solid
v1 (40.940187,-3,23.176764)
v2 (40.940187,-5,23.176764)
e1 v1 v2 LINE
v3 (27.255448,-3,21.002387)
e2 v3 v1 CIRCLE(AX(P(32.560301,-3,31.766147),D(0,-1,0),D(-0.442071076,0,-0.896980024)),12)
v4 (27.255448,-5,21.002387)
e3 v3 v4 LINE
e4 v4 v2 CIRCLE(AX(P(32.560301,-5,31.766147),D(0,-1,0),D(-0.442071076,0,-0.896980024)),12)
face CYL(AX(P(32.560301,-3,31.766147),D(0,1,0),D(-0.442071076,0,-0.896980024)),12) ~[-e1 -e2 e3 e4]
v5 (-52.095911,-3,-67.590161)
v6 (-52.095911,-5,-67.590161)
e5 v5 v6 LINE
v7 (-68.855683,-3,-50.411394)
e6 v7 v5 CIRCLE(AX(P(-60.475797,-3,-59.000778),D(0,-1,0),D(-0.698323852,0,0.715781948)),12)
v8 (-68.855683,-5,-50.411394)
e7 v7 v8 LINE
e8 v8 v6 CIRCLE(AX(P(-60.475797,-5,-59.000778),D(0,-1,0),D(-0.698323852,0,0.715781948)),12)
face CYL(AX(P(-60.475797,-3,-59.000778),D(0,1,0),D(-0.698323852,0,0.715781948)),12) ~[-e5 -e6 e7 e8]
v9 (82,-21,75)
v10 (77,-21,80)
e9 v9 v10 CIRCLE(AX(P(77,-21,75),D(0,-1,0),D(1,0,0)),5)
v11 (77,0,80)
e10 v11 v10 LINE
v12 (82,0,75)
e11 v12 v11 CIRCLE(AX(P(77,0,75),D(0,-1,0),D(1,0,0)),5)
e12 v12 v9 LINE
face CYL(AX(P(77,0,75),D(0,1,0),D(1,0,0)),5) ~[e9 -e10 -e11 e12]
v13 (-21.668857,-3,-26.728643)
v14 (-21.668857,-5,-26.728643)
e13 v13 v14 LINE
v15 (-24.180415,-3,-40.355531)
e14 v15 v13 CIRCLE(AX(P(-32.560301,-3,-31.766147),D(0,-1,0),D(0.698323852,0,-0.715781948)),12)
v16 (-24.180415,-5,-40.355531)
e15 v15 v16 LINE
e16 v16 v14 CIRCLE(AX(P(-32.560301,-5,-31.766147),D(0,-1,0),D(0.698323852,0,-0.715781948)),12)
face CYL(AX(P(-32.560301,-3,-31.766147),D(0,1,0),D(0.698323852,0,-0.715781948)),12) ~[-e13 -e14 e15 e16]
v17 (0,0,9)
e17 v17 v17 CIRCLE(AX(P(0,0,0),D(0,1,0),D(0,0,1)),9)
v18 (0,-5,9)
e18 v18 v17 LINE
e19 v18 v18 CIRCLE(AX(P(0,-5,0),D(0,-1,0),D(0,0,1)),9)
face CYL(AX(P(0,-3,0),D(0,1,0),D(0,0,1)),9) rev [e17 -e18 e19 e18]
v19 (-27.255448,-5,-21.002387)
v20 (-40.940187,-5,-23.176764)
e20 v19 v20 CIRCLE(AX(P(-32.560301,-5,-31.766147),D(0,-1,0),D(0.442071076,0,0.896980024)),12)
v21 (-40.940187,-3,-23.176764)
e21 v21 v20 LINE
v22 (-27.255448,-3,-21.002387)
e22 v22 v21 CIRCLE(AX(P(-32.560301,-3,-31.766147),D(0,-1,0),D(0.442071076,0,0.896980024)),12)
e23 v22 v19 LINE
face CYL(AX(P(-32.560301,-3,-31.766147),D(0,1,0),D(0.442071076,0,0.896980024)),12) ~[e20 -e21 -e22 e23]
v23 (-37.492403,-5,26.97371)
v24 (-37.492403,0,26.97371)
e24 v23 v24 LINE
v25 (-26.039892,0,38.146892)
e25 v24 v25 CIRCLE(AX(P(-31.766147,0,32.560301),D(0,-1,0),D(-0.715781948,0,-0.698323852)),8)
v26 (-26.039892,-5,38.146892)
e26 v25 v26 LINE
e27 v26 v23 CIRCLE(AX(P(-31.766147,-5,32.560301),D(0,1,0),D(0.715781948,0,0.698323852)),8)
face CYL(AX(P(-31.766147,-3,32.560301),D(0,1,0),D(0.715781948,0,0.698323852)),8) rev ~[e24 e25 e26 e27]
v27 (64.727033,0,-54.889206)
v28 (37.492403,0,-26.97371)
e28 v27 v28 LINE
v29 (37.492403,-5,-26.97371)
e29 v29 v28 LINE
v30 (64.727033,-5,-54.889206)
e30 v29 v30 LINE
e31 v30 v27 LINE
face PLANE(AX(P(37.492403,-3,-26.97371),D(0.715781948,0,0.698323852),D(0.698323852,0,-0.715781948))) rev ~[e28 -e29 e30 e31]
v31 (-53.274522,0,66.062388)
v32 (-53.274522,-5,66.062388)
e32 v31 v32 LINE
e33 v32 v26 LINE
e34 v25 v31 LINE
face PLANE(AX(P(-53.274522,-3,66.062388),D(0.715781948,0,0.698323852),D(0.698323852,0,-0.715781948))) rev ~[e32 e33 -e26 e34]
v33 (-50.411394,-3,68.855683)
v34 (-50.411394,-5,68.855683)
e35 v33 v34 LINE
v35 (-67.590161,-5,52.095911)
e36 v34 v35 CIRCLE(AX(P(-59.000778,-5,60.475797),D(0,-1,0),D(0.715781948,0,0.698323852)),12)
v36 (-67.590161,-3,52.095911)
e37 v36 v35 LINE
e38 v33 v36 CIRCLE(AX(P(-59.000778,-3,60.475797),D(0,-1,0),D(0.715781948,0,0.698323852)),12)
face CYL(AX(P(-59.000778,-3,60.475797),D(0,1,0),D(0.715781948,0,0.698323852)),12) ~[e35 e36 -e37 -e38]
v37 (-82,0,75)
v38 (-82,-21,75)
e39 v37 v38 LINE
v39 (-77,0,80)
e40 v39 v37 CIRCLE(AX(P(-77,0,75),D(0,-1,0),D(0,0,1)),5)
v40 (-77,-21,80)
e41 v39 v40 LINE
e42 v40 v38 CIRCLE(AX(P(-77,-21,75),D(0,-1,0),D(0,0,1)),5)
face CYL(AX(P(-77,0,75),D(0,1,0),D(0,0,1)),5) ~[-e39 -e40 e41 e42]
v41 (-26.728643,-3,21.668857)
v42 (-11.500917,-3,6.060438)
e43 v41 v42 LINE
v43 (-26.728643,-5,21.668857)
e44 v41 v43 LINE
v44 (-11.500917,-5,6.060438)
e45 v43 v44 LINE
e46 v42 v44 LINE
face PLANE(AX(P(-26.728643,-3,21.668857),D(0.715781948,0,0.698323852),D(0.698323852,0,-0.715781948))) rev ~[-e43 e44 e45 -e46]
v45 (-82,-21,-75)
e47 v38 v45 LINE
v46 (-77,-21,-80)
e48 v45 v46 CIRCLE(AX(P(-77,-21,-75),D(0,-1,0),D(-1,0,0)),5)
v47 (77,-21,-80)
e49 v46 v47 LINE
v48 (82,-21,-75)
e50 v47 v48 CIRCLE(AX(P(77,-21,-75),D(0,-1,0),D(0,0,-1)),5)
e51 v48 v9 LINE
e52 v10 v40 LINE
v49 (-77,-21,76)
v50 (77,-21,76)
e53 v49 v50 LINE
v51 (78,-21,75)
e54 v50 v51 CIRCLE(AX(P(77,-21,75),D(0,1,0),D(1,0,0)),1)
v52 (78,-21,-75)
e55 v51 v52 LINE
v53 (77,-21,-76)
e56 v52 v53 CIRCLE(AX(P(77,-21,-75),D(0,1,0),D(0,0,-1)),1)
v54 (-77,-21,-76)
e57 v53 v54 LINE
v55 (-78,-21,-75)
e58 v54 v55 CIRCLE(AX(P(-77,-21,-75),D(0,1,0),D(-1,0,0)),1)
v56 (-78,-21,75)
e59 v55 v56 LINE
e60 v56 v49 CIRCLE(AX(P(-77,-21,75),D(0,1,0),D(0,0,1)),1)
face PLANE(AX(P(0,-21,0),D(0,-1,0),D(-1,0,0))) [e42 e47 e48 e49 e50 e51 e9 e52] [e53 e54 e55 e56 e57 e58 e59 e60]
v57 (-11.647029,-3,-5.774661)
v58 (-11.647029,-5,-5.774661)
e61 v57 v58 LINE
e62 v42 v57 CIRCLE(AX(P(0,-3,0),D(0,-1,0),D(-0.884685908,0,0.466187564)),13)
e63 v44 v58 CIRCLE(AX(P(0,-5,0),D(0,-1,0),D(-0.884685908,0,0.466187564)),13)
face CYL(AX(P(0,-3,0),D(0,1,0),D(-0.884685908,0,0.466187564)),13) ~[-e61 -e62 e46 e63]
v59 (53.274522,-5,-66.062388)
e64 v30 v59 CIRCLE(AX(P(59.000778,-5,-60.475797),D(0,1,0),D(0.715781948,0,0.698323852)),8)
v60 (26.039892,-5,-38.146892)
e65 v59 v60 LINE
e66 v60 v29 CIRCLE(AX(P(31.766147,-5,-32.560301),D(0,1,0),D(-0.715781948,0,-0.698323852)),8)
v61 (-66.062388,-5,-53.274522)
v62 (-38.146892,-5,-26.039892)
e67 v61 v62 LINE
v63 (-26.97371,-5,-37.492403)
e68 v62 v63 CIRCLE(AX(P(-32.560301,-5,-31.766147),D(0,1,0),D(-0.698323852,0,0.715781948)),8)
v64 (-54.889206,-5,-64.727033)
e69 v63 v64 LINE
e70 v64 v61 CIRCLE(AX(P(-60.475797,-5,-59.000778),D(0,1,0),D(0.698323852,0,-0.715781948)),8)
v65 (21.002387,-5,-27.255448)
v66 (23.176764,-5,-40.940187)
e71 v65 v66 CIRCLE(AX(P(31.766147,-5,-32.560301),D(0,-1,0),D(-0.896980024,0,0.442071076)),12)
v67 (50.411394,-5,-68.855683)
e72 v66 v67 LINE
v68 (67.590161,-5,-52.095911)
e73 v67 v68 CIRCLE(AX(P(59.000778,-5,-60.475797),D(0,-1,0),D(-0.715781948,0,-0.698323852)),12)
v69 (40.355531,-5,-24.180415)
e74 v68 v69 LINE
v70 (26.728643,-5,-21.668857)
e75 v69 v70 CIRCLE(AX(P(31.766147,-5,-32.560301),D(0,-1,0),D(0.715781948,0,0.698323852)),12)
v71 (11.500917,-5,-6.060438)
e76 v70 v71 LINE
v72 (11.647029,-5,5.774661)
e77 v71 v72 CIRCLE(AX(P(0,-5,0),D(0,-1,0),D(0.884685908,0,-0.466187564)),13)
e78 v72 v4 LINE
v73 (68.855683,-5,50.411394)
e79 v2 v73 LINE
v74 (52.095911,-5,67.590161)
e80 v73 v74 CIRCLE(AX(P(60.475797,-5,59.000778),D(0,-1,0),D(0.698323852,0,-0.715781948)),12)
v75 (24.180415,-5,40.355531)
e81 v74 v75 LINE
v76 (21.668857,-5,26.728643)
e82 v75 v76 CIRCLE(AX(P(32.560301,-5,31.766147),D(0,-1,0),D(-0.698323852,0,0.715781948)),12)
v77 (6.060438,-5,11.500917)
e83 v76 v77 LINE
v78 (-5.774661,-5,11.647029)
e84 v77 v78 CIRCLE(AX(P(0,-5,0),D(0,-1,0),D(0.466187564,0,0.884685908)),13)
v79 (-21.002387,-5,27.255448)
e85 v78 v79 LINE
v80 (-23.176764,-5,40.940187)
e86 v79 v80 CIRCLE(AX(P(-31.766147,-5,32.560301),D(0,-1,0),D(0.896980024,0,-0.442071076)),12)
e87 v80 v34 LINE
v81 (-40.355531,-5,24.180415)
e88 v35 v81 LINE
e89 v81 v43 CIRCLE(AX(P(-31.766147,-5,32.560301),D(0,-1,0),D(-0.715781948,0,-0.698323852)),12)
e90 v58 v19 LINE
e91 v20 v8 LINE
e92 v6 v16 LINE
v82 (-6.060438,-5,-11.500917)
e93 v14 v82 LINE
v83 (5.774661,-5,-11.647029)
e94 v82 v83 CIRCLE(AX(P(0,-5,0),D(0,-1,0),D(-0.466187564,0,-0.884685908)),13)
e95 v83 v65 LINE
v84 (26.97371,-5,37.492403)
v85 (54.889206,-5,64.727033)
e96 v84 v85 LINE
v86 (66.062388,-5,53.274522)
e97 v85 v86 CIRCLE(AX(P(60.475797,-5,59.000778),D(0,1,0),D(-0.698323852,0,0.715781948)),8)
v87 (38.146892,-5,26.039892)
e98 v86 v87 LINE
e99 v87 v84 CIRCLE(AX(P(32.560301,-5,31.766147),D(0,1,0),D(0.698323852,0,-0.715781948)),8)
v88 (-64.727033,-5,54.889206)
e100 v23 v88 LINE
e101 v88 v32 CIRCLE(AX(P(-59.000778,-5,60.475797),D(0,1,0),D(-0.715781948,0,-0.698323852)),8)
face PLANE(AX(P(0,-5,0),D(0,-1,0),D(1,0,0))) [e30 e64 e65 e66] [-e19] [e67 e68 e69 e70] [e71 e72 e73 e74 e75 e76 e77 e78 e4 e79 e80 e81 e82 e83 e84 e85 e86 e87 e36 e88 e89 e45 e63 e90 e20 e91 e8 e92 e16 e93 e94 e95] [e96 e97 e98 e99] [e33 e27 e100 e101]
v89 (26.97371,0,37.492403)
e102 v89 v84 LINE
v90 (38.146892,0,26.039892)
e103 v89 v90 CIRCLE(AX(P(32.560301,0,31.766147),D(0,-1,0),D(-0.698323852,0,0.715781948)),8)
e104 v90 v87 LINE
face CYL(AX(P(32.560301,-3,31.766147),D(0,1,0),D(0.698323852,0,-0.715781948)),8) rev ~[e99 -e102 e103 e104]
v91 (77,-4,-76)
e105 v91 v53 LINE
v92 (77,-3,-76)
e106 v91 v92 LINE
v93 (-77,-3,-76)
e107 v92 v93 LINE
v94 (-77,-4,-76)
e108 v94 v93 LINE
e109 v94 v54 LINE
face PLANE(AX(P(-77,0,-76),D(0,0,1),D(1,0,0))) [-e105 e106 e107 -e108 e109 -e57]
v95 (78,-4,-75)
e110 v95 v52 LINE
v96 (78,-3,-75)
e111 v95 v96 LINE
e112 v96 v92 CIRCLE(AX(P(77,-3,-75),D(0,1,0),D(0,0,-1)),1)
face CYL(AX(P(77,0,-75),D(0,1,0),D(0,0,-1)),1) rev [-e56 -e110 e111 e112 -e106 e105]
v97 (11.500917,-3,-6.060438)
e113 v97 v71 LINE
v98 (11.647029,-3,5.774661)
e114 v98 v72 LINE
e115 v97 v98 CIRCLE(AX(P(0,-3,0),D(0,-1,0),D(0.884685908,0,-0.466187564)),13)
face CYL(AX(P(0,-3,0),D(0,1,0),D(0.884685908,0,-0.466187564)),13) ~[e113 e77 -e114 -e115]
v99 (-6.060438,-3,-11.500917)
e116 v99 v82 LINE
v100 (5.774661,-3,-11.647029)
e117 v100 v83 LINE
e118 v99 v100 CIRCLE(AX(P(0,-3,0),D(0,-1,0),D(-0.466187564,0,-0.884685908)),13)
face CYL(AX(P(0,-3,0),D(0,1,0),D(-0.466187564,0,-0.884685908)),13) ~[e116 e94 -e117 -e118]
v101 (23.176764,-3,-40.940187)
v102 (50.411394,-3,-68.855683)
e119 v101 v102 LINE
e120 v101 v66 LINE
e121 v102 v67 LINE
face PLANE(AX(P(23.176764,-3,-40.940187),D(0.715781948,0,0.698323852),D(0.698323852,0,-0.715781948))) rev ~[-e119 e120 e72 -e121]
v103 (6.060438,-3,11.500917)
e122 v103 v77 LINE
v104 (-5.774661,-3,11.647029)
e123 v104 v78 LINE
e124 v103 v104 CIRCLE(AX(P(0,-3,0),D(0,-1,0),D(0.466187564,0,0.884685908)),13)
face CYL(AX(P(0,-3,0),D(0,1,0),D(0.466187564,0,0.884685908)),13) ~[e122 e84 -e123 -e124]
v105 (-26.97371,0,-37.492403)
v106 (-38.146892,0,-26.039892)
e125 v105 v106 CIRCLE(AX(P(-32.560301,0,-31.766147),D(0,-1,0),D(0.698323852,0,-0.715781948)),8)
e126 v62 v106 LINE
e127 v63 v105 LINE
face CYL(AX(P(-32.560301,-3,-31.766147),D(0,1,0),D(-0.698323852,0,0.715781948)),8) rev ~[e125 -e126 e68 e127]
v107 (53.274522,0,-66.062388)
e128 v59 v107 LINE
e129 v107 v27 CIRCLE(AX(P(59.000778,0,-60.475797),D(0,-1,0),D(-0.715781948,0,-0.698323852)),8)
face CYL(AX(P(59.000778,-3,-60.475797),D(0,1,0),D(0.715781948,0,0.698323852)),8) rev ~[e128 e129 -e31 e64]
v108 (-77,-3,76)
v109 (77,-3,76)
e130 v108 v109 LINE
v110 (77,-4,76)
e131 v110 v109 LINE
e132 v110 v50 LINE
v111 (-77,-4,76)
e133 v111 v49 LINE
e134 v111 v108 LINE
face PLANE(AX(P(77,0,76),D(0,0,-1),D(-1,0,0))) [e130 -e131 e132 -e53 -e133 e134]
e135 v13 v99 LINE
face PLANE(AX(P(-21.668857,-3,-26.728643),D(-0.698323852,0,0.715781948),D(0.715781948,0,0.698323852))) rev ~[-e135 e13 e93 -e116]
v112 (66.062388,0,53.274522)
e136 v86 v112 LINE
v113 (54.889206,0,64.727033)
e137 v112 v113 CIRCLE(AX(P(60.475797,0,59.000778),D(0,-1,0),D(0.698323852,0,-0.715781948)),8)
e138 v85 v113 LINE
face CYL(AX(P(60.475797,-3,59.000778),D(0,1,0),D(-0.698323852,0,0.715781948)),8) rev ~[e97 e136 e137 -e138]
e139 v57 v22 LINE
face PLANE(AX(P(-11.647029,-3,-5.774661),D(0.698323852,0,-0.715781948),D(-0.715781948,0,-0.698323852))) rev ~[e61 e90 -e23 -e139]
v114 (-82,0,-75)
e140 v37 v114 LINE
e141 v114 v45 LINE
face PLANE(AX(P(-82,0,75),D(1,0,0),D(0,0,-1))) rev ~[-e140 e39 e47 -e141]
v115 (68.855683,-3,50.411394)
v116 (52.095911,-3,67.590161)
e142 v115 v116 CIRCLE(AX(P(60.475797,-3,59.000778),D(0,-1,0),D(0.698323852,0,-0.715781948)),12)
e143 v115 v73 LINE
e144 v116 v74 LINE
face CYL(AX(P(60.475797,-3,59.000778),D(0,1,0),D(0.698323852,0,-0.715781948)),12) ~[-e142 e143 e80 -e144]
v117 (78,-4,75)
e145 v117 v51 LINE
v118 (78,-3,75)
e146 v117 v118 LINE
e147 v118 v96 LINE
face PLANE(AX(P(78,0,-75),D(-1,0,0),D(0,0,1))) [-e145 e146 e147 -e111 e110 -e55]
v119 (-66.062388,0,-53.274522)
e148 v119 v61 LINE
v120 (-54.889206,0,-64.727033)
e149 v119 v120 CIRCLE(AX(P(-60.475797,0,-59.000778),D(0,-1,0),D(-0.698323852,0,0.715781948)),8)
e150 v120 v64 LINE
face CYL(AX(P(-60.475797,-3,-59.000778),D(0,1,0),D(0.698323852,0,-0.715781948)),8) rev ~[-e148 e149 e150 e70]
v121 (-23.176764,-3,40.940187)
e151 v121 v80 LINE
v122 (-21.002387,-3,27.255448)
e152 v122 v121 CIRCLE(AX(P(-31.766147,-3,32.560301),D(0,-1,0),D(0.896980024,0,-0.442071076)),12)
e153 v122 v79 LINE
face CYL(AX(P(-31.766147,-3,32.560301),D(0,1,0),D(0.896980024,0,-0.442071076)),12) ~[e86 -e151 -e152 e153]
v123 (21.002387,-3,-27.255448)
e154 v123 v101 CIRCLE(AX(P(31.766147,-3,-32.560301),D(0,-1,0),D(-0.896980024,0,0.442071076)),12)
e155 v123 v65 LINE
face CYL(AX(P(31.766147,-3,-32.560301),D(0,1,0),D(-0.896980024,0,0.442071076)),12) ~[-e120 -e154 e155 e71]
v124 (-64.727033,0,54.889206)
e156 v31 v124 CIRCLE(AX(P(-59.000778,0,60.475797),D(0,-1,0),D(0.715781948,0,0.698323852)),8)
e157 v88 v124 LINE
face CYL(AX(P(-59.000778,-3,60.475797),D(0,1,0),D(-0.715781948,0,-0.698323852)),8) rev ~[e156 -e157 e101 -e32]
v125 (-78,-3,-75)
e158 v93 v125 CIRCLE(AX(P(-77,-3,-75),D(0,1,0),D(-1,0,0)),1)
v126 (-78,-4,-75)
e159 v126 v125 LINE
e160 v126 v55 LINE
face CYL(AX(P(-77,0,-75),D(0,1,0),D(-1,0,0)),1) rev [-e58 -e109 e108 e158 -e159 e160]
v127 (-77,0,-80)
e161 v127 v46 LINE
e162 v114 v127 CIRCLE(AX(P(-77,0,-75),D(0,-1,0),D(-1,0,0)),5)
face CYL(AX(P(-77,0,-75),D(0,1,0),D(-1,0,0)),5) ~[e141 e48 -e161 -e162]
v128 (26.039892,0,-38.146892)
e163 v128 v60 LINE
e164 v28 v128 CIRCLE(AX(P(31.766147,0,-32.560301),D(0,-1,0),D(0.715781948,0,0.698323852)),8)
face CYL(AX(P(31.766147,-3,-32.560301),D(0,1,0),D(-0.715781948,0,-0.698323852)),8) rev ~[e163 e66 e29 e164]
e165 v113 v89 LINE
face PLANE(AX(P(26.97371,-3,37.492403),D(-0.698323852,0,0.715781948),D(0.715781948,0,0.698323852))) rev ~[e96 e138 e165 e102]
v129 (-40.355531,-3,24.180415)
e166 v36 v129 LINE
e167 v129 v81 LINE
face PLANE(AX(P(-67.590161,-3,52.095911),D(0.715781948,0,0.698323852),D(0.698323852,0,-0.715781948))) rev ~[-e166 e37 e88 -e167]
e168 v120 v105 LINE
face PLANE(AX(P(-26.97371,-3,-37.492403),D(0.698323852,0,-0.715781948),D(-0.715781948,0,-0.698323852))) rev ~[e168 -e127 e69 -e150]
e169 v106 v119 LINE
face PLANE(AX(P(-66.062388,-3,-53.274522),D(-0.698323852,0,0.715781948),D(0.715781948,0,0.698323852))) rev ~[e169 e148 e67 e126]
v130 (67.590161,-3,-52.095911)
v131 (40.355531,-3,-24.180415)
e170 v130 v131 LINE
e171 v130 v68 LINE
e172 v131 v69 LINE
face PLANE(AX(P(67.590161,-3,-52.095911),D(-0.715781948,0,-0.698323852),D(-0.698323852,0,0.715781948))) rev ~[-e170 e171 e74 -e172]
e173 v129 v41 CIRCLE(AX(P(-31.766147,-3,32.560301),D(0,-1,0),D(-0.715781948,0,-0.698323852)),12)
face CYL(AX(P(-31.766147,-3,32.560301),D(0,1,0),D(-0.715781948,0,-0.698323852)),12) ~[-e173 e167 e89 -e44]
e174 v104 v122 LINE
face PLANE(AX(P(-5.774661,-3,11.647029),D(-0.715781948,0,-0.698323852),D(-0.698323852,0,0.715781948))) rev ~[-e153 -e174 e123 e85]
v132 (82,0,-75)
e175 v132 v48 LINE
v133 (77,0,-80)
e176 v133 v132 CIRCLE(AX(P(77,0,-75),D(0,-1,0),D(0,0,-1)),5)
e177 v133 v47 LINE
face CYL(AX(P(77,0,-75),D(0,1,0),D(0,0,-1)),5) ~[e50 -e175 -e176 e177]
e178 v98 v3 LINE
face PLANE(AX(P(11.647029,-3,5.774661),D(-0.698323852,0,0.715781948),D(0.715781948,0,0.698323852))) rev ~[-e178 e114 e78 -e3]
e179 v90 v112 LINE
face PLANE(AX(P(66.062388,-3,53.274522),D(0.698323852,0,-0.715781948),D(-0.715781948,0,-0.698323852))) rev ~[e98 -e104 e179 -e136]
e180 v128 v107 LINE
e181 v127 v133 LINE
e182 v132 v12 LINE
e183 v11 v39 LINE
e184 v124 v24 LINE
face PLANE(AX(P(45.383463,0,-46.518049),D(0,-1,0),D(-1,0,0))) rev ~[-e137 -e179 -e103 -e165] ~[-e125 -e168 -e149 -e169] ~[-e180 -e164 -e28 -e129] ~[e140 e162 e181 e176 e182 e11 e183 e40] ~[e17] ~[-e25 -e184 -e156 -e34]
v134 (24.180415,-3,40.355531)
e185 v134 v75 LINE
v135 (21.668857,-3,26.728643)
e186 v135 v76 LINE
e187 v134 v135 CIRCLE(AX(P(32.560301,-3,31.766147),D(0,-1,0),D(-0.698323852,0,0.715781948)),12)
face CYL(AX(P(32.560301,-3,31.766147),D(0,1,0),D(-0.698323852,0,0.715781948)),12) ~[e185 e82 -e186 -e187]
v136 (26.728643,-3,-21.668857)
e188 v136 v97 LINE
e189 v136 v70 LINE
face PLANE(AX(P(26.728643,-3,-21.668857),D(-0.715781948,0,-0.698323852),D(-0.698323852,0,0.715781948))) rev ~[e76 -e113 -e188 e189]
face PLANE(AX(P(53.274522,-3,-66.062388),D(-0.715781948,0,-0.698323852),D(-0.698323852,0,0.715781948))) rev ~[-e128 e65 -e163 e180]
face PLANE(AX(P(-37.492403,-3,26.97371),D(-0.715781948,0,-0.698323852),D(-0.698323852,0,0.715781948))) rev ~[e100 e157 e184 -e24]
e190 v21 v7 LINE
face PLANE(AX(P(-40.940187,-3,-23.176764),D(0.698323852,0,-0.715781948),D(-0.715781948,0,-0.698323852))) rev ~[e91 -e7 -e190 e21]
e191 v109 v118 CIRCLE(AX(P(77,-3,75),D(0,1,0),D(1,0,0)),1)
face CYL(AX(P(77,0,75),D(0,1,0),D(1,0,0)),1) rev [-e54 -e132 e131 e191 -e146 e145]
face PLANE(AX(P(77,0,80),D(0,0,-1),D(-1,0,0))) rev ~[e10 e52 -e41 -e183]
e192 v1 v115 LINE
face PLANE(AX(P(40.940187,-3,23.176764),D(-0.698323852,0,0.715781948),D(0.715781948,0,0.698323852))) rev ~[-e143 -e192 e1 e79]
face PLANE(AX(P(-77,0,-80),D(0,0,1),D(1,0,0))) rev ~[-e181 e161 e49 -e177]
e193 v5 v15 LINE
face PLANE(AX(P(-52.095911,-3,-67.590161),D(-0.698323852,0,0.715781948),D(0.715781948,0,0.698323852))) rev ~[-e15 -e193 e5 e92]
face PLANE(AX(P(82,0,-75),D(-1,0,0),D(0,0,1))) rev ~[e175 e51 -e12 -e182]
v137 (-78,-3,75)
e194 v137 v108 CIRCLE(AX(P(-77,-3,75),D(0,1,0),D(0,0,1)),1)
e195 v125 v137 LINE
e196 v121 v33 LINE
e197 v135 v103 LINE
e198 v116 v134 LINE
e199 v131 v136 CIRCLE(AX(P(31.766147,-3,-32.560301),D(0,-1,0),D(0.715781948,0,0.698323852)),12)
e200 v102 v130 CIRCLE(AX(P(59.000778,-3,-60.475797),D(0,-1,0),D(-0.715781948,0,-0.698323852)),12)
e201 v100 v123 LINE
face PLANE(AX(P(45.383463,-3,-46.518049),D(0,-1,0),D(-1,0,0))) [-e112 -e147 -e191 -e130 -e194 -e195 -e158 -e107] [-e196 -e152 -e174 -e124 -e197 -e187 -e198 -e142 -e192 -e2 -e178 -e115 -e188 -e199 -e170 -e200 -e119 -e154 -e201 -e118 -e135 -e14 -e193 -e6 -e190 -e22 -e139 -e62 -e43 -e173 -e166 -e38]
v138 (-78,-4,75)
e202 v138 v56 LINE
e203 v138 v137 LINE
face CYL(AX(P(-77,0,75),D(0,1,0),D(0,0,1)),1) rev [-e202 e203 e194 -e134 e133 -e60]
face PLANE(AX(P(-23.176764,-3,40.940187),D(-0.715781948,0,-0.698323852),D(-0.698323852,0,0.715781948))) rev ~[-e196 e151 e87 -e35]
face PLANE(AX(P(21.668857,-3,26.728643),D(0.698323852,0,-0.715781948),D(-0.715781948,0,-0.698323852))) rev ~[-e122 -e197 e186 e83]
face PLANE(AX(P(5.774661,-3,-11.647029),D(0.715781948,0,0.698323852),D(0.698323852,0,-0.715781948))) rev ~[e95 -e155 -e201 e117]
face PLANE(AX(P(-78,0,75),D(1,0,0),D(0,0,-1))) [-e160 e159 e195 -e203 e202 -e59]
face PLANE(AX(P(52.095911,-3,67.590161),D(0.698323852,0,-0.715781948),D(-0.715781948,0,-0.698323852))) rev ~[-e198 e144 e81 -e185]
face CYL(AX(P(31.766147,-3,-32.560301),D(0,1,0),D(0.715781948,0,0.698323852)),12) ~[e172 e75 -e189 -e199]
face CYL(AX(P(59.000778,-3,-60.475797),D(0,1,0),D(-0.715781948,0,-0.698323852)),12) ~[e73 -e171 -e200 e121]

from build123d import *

# Parameters (mm, degrees)
SKETCH1_R           = 9
BOSS_EXTRUDE1_DEPTH = 21
SHELL1_T            = -4
MOVE_FACE1_BY       = 1
SKETCH1_4_R         = 9
CUT_EXTRUDE1_DEPTH  = 117.468879964
SKETCH2_R           = 9
BOSS_EXTRUDE2_DEPTH = 2


with BuildPart() as part:
    # Sketch1 → Boss-Extrude1 (new body)
    # profile 1 of 6: a face of its own
    with BuildSketch(Plane(origin=(0, 0, 0), x_dir=(1, 0, 0), z_dir=(0, 1, 0))):
        with BuildLine():
            ThreePointArc((-82, 75), (-80.535533906, 78.535533906), (-77, 80))
            Line((-77, 80), (77, 80))
            ThreePointArc((77, 80), (80.535533906, 78.535533906), (82, 75))
            Line((82, 75), (82, -75))
            ThreePointArc((82, -75), (80.535533906, -78.535533906), (77, -80))
            Line((77, -80), (-77, -80))
            ThreePointArc((-77, -80), (-80.535533906, -78.535533906), (-82, -75))
            Line((-82, -75), (-82, 75))
        make_face()
        Circle(SKETCH1_R, mode=Mode.SUBTRACT)
        with BuildLine():
            Line((-54.889206332, 64.727033293), (-26.973710346, 37.492403062))
            ThreePointArc((-26.973710346, 37.492403062), (-26.834045575, 26.179556659), (-38.146891979, 26.039891888))
            Line((-38.146891979, 26.039891888), (-66.062387966, 53.274522119))
            ThreePointArc((-66.062387966, 53.274522119), (-66.202052736, 64.587368523), (-54.889206332, 64.727033293))
        make_face(mode=Mode.SUBTRACT)
        with BuildLine():
            Line((53.274522119, 66.062387966), (26.039891888, 38.146891979))
            ThreePointArc((26.039891888, 38.146891979), (26.179556659, 26.834045575), (37.492403062, 26.973710346))
            Line((37.492403062, 26.973710346), (64.727033293, 54.889206332))
            ThreePointArc((64.727033293, 54.889206332), (64.587368523, 66.202052736), (53.274522119, 66.062387966))
        make_face(mode=Mode.SUBTRACT)
        with BuildLine():
            Line((66.062387966, -53.274522119), (38.146891979, -26.039891888))
            ThreePointArc((38.146891979, -26.039891888), (26.834045575, -26.179556659), (26.973710346, -37.492403062))
            Line((26.973710346, -37.492403062), (54.889206332, -64.727033293))
            ThreePointArc((54.889206332, -64.727033293), (66.202052736, -64.587368523), (66.062387966, -53.274522119))
        make_face(mode=Mode.SUBTRACT)
        with BuildLine():
            Line((-53.274522119, -66.062387966), (-26.039891888, -38.146891979))
            ThreePointArc((-26.039891888, -38.146891979), (-26.179556659, -26.834045575), (-37.492403062, -26.973710346))
            Line((-37.492403062, -26.973710346), (-64.727033293, -54.889206332))
            ThreePointArc((-64.727033293, -54.889206332), (-64.587368523, -66.202052736), (-53.274522119, -66.062387966))
        make_face(mode=Mode.SUBTRACT)
    # profile 2 of 6: a face of its own
    with BuildSketch(Plane(origin=(0, 0, 0), x_dir=(1, 0, 0), z_dir=(0, 1, 0))):
        with BuildLine():
            ThreePointArc((-26.973710346, 37.492403062), (-26.834045575, 26.179556659), (-38.146891979, 26.039891888))
            Line((-38.146891979, 26.039891888), (-66.062387966, 53.274522119))
            ThreePointArc((-66.062387966, 53.274522119), (-66.202052736, 64.587368523), (-54.889206332, 64.727033293))
            Line((-54.889206332, 64.727033293), (-26.973710346, 37.492403062))
        make_face()
    # profile 3 of 6: a face of its own
    with BuildSketch(Plane(origin=(0, 0, 0), x_dir=(1, 0, 0), z_dir=(0, 1, 0))):
        with BuildLine():
            ThreePointArc((-53.274522119, -66.062387966), (-64.587368523, -66.202052736), (-64.727033293, -54.889206332))
            Line((-64.727033293, -54.889206332), (-37.492403062, -26.973710346))
            ThreePointArc((-37.492403062, -26.973710346), (-26.179556659, -26.834045575), (-26.039891888, -38.146891979))
            Line((-26.039891888, -38.146891979), (-53.274522119, -66.062387966))
        make_face()
    # profile 4 of 6: a face of its own
    with BuildSketch(Plane(origin=(0, 0, 0), x_dir=(1, 0, 0), z_dir=(0, 1, 0))):
        Circle(SKETCH1_R)
    # profile 5 of 6: a face of its own
    with BuildSketch(Plane(origin=(0, 0, 0), x_dir=(1, 0, 0), z_dir=(0, 1, 0))):
        with BuildLine():
            ThreePointArc((66.062387966, -53.274522119), (66.202052736, -64.587368523), (54.889206332, -64.727033293))
            Line((54.889206332, -64.727033293), (26.973710346, -37.492403062))
            ThreePointArc((26.973710346, -37.492403062), (26.834045575, -26.179556659), (38.146891979, -26.039891888))
            Line((38.146891979, -26.039891888), (66.062387966, -53.274522119))
        make_face()
    # profile 6 of 6: a face of its own
    with BuildSketch(Plane(origin=(0, 0, 0), x_dir=(1, 0, 0), z_dir=(0, 1, 0))):
        with BuildLine():
            ThreePointArc((53.274522119, 66.062387966), (64.587368523, 66.202052736), (64.727033293, 54.889206332))
            Line((64.727033293, 54.889206332), (37.492403062, 26.973710346))
            ThreePointArc((37.492403062, 26.973710346), (26.179556659, 26.834045575), (26.039891888, 38.146891979))
            Line((26.039891888, 38.146891979), (53.274522119, 66.062387966))
        make_face()
    extrude(amount=-BOSS_EXTRUDE1_DEPTH)

    # Shell1
    shell1_openings = [part.faces().sort_by_distance(p)[0] for p in [
        (0, -21, 0),
    ]]
    offset(amount=SHELL1_T, openings=shell1_openings, kind=Kind.INTERSECTION)

    # Move Face1: a face moved inward by 1.0
    extrude(part.faces().sort_by_distance((0, -4, 0))[0], amount=MOVE_FACE1_BY, dir=(0, 1, 0), mode=Mode.SUBTRACT)

    # Sketch1<4> → Cut-Extrude1 (cut, through all)
    with BuildSketch(Plane(origin=(0, 0, 0), x_dir=(1, 0, 0), z_dir=(0, 1, 0))):
        with BuildLine():
            ThreePointArc((-26.973710346, 37.492403062), (-26.834045575, 26.179556659), (-38.146891979, 26.039891888))
            Line((-38.146891979, 26.039891888), (-66.062387966, 53.274522119))
            ThreePointArc((-66.062387966, 53.274522119), (-66.202052736, 64.587368523), (-54.889206332, 64.727033293))
            Line((-54.889206332, 64.727033293), (-26.973710346, 37.492403062))
        make_face()
        with BuildLine():
            ThreePointArc((-53.274522119, -66.062387966), (-64.587368523, -66.202052736), (-64.727033293, -54.889206332))
            Line((-64.727033293, -54.889206332), (-37.492403062, -26.973710346))
            ThreePointArc((-37.492403062, -26.973710346), (-26.179556659, -26.834045575), (-26.039891888, -38.146891979))
            Line((-26.039891888, -38.146891979), (-53.274522119, -66.062387966))
        make_face()
        with BuildLine():
            ThreePointArc((66.062387966, -53.274522119), (66.202052736, -64.587368523), (54.889206332, -64.727033293))
            Line((54.889206332, -64.727033293), (26.973710346, -37.492403062))
            ThreePointArc((26.973710346, -37.492403062), (26.834045575, -26.179556659), (38.146891979, -26.039891888))
            Line((38.146891979, -26.039891888), (66.062387966, -53.274522119))
        make_face()
        with BuildLine():
            ThreePointArc((53.274522119, 66.062387966), (64.587368523, 66.202052736), (64.727033293, 54.889206332))
            Line((64.727033293, 54.889206332), (37.492403062, 26.973710346))
            ThreePointArc((37.492403062, 26.973710346), (26.179556659, 26.834045575), (26.039891888, 38.146891979))
            Line((26.039891888, 38.146891979), (53.274522119, 66.062387966))
        make_face()
        with Locations(Location((0, 0, 0), (0, 0, 270))):
            Circle(SKETCH1_4_R)
    extrude(amount=-CUT_EXTRUDE1_DEPTH, mode=Mode.SUBTRACT)

    # Sketch2 → Boss-Extrude2 (add)
    with BuildSketch(Plane.XZ.offset(3)):
        with BuildLine():
            Line((-5.774661215, 11.647029143), (-21.002387182, 27.255448258))
            ThreePointArc((-21.002387182, 27.255448258), (-19.914815745, 34.443366807), (-23.176764095, 40.940187387))
            Line((-23.176764095, 40.940187387), (-50.411394326, 68.855683374))
            ThreePointArc((-50.411394326, 68.855683374), (-67.380663931, 69.06518053), (-67.590161087, 52.095910924))
            Line((-67.590161087, 52.095910924), (-40.355530856, 24.180414937))
            ThreePointArc((-40.355530856, 24.180414937), (-33.94122007, 20.759069904), (-26.728642769, 21.668857441))
            Line((-26.728642769, 21.668857441), (-11.500916802, 6.060438326))
            ThreePointArc((-11.500916802, 6.060438326), (-12.999009411, 0.160481598), (-11.647029143, -5.774661215))
            Line((-11.647029143, -5.774661215), (-27.255448258, -21.002387182))
            ThreePointArc((-27.255448258, -21.002387182), (-34.443366807, -19.914815745), (-40.940187387, -23.176764095))
            Line((-40.940187387, -23.176764095), (-68.855683374, -50.411394326))
            ThreePointArc((-68.855683374, -50.411394326), (-69.06518053, -67.380663931), (-52.095910924, -67.590161087))
            Line((-52.095910924, -67.590161087), (-24.180414937, -40.355530856))
            ThreePointArc((-24.180414937, -40.355530856), (-20.759069904, -33.94122007), (-21.668857441, -26.728642769))
            Line((-21.668857441, -26.728642769), (-6.060438326, -11.500916802))
            ThreePointArc((-6.060438326, -11.500916802), (-0.160481598, -12.999009411), (5.774661215, -11.647029143))
            Line((5.774661215, -11.647029143), (21.002387182, -27.255448258))
            ThreePointArc((21.002387182, -27.255448258), (19.914815745, -34.443366807), (23.176764095, -40.940187387))
            Line((23.176764095, -40.940187387), (50.411394326, -68.855683374))
            ThreePointArc((50.411394326, -68.855683374), (67.380663931, -69.06518053), (67.590161087, -52.095910924))
            Line((67.590161087, -52.095910924), (40.355530856, -24.180414937))
            ThreePointArc((40.355530856, -24.180414937), (33.94122007, -20.759069904), (26.728642769, -21.668857441))
            Line((26.728642769, -21.668857441), (11.500916802, -6.060438326))
            ThreePointArc((11.500916802, -6.060438326), (12.999009411, -0.160481598), (11.647029143, 5.774661215))
            Line((11.647029143, 5.774661215), (27.255448258, 21.002387182))
            ThreePointArc((27.255448258, 21.002387182), (34.443366807, 19.914815745), (40.940187387, 23.176764095))
            Line((40.940187387, 23.176764095), (68.855683374, 50.411394326))
            ThreePointArc((68.855683374, 50.411394326), (69.06518053, 67.380663931), (52.095910924, 67.590161087))
            Line((52.095910924, 67.590161087), (24.180414937, 40.355530856))
            ThreePointArc((24.180414937, 40.355530856), (20.759069904, 33.94122007), (21.668857441, 26.728642769))
            Line((21.668857441, 26.728642769), (6.060438326, 11.500916802))
            ThreePointArc((6.060438326, 11.500916802), (0.160481598, 12.999009411), (-5.774661215, 11.647029143))
        make_face()
        with BuildLine():
            ThreePointArc((-54.889206332, -64.727033293), (-66.202052736, -64.587368523), (-66.062387966, -53.274522119))
            Line((-66.062387966, -53.274522119), (-38.146891979, -26.039891888))
            ThreePointArc((-38.146891979, -26.039891888), (-26.834045575, -26.179556659), (-26.973710346, -37.492403062))
            Line((-26.973710346, -37.492403062), (-54.889206332, -64.727033293))
        make_face(mode=Mode.SUBTRACT)
        with Locations(Location((0, 0, 0), (0, 0, 90))):
            Circle(SKETCH2_R, mode=Mode.SUBTRACT)
        with BuildLine():
            Line((-53.274522119, 66.062387966), (-26.039891888, 38.146891979))
            ThreePointArc((-26.039891888, 38.146891979), (-26.179556659, 26.834045575), (-37.492403062, 26.973710346))
            Line((-37.492403062, 26.973710346), (-64.727033293, 54.889206332))
            ThreePointArc((-64.727033293, 54.889206332), (-64.587368523, 66.202052736), (-53.274522119, 66.062387966))
        make_face(mode=Mode.SUBTRACT)
        with BuildLine():
            ThreePointArc((38.146891979, 26.039891888), (26.834045575, 26.179556659), (26.973710346, 37.492403062))
            Line((26.973710346, 37.492403062), (54.889206332, 64.727033293))
            ThreePointArc((54.889206332, 64.727033293), (66.202052736, 64.587368523), (66.062387966, 53.274522119))
            Line((66.062387966, 53.274522119), (38.146891979, 26.039891888))
        make_face(mode=Mode.SUBTRACT)
        with BuildLine():
            ThreePointArc((26.039891888, -38.146891979), (26.179556659, -26.834045575), (37.492403062, -26.973710346))
            Line((37.492403062, -26.973710346), (64.727033293, -54.889206332))
            ThreePointArc((64.727033293, -54.889206332), (64.587368523, -66.202052736), (53.274522119, -66.062387966))
            Line((53.274522119, -66.062387966), (26.039891888, -38.146891979))
        make_face(mode=Mode.SUBTRACT)
    extrude(amount=BOSS_EXTRUDE2_DEPTH)


solid = part.part
